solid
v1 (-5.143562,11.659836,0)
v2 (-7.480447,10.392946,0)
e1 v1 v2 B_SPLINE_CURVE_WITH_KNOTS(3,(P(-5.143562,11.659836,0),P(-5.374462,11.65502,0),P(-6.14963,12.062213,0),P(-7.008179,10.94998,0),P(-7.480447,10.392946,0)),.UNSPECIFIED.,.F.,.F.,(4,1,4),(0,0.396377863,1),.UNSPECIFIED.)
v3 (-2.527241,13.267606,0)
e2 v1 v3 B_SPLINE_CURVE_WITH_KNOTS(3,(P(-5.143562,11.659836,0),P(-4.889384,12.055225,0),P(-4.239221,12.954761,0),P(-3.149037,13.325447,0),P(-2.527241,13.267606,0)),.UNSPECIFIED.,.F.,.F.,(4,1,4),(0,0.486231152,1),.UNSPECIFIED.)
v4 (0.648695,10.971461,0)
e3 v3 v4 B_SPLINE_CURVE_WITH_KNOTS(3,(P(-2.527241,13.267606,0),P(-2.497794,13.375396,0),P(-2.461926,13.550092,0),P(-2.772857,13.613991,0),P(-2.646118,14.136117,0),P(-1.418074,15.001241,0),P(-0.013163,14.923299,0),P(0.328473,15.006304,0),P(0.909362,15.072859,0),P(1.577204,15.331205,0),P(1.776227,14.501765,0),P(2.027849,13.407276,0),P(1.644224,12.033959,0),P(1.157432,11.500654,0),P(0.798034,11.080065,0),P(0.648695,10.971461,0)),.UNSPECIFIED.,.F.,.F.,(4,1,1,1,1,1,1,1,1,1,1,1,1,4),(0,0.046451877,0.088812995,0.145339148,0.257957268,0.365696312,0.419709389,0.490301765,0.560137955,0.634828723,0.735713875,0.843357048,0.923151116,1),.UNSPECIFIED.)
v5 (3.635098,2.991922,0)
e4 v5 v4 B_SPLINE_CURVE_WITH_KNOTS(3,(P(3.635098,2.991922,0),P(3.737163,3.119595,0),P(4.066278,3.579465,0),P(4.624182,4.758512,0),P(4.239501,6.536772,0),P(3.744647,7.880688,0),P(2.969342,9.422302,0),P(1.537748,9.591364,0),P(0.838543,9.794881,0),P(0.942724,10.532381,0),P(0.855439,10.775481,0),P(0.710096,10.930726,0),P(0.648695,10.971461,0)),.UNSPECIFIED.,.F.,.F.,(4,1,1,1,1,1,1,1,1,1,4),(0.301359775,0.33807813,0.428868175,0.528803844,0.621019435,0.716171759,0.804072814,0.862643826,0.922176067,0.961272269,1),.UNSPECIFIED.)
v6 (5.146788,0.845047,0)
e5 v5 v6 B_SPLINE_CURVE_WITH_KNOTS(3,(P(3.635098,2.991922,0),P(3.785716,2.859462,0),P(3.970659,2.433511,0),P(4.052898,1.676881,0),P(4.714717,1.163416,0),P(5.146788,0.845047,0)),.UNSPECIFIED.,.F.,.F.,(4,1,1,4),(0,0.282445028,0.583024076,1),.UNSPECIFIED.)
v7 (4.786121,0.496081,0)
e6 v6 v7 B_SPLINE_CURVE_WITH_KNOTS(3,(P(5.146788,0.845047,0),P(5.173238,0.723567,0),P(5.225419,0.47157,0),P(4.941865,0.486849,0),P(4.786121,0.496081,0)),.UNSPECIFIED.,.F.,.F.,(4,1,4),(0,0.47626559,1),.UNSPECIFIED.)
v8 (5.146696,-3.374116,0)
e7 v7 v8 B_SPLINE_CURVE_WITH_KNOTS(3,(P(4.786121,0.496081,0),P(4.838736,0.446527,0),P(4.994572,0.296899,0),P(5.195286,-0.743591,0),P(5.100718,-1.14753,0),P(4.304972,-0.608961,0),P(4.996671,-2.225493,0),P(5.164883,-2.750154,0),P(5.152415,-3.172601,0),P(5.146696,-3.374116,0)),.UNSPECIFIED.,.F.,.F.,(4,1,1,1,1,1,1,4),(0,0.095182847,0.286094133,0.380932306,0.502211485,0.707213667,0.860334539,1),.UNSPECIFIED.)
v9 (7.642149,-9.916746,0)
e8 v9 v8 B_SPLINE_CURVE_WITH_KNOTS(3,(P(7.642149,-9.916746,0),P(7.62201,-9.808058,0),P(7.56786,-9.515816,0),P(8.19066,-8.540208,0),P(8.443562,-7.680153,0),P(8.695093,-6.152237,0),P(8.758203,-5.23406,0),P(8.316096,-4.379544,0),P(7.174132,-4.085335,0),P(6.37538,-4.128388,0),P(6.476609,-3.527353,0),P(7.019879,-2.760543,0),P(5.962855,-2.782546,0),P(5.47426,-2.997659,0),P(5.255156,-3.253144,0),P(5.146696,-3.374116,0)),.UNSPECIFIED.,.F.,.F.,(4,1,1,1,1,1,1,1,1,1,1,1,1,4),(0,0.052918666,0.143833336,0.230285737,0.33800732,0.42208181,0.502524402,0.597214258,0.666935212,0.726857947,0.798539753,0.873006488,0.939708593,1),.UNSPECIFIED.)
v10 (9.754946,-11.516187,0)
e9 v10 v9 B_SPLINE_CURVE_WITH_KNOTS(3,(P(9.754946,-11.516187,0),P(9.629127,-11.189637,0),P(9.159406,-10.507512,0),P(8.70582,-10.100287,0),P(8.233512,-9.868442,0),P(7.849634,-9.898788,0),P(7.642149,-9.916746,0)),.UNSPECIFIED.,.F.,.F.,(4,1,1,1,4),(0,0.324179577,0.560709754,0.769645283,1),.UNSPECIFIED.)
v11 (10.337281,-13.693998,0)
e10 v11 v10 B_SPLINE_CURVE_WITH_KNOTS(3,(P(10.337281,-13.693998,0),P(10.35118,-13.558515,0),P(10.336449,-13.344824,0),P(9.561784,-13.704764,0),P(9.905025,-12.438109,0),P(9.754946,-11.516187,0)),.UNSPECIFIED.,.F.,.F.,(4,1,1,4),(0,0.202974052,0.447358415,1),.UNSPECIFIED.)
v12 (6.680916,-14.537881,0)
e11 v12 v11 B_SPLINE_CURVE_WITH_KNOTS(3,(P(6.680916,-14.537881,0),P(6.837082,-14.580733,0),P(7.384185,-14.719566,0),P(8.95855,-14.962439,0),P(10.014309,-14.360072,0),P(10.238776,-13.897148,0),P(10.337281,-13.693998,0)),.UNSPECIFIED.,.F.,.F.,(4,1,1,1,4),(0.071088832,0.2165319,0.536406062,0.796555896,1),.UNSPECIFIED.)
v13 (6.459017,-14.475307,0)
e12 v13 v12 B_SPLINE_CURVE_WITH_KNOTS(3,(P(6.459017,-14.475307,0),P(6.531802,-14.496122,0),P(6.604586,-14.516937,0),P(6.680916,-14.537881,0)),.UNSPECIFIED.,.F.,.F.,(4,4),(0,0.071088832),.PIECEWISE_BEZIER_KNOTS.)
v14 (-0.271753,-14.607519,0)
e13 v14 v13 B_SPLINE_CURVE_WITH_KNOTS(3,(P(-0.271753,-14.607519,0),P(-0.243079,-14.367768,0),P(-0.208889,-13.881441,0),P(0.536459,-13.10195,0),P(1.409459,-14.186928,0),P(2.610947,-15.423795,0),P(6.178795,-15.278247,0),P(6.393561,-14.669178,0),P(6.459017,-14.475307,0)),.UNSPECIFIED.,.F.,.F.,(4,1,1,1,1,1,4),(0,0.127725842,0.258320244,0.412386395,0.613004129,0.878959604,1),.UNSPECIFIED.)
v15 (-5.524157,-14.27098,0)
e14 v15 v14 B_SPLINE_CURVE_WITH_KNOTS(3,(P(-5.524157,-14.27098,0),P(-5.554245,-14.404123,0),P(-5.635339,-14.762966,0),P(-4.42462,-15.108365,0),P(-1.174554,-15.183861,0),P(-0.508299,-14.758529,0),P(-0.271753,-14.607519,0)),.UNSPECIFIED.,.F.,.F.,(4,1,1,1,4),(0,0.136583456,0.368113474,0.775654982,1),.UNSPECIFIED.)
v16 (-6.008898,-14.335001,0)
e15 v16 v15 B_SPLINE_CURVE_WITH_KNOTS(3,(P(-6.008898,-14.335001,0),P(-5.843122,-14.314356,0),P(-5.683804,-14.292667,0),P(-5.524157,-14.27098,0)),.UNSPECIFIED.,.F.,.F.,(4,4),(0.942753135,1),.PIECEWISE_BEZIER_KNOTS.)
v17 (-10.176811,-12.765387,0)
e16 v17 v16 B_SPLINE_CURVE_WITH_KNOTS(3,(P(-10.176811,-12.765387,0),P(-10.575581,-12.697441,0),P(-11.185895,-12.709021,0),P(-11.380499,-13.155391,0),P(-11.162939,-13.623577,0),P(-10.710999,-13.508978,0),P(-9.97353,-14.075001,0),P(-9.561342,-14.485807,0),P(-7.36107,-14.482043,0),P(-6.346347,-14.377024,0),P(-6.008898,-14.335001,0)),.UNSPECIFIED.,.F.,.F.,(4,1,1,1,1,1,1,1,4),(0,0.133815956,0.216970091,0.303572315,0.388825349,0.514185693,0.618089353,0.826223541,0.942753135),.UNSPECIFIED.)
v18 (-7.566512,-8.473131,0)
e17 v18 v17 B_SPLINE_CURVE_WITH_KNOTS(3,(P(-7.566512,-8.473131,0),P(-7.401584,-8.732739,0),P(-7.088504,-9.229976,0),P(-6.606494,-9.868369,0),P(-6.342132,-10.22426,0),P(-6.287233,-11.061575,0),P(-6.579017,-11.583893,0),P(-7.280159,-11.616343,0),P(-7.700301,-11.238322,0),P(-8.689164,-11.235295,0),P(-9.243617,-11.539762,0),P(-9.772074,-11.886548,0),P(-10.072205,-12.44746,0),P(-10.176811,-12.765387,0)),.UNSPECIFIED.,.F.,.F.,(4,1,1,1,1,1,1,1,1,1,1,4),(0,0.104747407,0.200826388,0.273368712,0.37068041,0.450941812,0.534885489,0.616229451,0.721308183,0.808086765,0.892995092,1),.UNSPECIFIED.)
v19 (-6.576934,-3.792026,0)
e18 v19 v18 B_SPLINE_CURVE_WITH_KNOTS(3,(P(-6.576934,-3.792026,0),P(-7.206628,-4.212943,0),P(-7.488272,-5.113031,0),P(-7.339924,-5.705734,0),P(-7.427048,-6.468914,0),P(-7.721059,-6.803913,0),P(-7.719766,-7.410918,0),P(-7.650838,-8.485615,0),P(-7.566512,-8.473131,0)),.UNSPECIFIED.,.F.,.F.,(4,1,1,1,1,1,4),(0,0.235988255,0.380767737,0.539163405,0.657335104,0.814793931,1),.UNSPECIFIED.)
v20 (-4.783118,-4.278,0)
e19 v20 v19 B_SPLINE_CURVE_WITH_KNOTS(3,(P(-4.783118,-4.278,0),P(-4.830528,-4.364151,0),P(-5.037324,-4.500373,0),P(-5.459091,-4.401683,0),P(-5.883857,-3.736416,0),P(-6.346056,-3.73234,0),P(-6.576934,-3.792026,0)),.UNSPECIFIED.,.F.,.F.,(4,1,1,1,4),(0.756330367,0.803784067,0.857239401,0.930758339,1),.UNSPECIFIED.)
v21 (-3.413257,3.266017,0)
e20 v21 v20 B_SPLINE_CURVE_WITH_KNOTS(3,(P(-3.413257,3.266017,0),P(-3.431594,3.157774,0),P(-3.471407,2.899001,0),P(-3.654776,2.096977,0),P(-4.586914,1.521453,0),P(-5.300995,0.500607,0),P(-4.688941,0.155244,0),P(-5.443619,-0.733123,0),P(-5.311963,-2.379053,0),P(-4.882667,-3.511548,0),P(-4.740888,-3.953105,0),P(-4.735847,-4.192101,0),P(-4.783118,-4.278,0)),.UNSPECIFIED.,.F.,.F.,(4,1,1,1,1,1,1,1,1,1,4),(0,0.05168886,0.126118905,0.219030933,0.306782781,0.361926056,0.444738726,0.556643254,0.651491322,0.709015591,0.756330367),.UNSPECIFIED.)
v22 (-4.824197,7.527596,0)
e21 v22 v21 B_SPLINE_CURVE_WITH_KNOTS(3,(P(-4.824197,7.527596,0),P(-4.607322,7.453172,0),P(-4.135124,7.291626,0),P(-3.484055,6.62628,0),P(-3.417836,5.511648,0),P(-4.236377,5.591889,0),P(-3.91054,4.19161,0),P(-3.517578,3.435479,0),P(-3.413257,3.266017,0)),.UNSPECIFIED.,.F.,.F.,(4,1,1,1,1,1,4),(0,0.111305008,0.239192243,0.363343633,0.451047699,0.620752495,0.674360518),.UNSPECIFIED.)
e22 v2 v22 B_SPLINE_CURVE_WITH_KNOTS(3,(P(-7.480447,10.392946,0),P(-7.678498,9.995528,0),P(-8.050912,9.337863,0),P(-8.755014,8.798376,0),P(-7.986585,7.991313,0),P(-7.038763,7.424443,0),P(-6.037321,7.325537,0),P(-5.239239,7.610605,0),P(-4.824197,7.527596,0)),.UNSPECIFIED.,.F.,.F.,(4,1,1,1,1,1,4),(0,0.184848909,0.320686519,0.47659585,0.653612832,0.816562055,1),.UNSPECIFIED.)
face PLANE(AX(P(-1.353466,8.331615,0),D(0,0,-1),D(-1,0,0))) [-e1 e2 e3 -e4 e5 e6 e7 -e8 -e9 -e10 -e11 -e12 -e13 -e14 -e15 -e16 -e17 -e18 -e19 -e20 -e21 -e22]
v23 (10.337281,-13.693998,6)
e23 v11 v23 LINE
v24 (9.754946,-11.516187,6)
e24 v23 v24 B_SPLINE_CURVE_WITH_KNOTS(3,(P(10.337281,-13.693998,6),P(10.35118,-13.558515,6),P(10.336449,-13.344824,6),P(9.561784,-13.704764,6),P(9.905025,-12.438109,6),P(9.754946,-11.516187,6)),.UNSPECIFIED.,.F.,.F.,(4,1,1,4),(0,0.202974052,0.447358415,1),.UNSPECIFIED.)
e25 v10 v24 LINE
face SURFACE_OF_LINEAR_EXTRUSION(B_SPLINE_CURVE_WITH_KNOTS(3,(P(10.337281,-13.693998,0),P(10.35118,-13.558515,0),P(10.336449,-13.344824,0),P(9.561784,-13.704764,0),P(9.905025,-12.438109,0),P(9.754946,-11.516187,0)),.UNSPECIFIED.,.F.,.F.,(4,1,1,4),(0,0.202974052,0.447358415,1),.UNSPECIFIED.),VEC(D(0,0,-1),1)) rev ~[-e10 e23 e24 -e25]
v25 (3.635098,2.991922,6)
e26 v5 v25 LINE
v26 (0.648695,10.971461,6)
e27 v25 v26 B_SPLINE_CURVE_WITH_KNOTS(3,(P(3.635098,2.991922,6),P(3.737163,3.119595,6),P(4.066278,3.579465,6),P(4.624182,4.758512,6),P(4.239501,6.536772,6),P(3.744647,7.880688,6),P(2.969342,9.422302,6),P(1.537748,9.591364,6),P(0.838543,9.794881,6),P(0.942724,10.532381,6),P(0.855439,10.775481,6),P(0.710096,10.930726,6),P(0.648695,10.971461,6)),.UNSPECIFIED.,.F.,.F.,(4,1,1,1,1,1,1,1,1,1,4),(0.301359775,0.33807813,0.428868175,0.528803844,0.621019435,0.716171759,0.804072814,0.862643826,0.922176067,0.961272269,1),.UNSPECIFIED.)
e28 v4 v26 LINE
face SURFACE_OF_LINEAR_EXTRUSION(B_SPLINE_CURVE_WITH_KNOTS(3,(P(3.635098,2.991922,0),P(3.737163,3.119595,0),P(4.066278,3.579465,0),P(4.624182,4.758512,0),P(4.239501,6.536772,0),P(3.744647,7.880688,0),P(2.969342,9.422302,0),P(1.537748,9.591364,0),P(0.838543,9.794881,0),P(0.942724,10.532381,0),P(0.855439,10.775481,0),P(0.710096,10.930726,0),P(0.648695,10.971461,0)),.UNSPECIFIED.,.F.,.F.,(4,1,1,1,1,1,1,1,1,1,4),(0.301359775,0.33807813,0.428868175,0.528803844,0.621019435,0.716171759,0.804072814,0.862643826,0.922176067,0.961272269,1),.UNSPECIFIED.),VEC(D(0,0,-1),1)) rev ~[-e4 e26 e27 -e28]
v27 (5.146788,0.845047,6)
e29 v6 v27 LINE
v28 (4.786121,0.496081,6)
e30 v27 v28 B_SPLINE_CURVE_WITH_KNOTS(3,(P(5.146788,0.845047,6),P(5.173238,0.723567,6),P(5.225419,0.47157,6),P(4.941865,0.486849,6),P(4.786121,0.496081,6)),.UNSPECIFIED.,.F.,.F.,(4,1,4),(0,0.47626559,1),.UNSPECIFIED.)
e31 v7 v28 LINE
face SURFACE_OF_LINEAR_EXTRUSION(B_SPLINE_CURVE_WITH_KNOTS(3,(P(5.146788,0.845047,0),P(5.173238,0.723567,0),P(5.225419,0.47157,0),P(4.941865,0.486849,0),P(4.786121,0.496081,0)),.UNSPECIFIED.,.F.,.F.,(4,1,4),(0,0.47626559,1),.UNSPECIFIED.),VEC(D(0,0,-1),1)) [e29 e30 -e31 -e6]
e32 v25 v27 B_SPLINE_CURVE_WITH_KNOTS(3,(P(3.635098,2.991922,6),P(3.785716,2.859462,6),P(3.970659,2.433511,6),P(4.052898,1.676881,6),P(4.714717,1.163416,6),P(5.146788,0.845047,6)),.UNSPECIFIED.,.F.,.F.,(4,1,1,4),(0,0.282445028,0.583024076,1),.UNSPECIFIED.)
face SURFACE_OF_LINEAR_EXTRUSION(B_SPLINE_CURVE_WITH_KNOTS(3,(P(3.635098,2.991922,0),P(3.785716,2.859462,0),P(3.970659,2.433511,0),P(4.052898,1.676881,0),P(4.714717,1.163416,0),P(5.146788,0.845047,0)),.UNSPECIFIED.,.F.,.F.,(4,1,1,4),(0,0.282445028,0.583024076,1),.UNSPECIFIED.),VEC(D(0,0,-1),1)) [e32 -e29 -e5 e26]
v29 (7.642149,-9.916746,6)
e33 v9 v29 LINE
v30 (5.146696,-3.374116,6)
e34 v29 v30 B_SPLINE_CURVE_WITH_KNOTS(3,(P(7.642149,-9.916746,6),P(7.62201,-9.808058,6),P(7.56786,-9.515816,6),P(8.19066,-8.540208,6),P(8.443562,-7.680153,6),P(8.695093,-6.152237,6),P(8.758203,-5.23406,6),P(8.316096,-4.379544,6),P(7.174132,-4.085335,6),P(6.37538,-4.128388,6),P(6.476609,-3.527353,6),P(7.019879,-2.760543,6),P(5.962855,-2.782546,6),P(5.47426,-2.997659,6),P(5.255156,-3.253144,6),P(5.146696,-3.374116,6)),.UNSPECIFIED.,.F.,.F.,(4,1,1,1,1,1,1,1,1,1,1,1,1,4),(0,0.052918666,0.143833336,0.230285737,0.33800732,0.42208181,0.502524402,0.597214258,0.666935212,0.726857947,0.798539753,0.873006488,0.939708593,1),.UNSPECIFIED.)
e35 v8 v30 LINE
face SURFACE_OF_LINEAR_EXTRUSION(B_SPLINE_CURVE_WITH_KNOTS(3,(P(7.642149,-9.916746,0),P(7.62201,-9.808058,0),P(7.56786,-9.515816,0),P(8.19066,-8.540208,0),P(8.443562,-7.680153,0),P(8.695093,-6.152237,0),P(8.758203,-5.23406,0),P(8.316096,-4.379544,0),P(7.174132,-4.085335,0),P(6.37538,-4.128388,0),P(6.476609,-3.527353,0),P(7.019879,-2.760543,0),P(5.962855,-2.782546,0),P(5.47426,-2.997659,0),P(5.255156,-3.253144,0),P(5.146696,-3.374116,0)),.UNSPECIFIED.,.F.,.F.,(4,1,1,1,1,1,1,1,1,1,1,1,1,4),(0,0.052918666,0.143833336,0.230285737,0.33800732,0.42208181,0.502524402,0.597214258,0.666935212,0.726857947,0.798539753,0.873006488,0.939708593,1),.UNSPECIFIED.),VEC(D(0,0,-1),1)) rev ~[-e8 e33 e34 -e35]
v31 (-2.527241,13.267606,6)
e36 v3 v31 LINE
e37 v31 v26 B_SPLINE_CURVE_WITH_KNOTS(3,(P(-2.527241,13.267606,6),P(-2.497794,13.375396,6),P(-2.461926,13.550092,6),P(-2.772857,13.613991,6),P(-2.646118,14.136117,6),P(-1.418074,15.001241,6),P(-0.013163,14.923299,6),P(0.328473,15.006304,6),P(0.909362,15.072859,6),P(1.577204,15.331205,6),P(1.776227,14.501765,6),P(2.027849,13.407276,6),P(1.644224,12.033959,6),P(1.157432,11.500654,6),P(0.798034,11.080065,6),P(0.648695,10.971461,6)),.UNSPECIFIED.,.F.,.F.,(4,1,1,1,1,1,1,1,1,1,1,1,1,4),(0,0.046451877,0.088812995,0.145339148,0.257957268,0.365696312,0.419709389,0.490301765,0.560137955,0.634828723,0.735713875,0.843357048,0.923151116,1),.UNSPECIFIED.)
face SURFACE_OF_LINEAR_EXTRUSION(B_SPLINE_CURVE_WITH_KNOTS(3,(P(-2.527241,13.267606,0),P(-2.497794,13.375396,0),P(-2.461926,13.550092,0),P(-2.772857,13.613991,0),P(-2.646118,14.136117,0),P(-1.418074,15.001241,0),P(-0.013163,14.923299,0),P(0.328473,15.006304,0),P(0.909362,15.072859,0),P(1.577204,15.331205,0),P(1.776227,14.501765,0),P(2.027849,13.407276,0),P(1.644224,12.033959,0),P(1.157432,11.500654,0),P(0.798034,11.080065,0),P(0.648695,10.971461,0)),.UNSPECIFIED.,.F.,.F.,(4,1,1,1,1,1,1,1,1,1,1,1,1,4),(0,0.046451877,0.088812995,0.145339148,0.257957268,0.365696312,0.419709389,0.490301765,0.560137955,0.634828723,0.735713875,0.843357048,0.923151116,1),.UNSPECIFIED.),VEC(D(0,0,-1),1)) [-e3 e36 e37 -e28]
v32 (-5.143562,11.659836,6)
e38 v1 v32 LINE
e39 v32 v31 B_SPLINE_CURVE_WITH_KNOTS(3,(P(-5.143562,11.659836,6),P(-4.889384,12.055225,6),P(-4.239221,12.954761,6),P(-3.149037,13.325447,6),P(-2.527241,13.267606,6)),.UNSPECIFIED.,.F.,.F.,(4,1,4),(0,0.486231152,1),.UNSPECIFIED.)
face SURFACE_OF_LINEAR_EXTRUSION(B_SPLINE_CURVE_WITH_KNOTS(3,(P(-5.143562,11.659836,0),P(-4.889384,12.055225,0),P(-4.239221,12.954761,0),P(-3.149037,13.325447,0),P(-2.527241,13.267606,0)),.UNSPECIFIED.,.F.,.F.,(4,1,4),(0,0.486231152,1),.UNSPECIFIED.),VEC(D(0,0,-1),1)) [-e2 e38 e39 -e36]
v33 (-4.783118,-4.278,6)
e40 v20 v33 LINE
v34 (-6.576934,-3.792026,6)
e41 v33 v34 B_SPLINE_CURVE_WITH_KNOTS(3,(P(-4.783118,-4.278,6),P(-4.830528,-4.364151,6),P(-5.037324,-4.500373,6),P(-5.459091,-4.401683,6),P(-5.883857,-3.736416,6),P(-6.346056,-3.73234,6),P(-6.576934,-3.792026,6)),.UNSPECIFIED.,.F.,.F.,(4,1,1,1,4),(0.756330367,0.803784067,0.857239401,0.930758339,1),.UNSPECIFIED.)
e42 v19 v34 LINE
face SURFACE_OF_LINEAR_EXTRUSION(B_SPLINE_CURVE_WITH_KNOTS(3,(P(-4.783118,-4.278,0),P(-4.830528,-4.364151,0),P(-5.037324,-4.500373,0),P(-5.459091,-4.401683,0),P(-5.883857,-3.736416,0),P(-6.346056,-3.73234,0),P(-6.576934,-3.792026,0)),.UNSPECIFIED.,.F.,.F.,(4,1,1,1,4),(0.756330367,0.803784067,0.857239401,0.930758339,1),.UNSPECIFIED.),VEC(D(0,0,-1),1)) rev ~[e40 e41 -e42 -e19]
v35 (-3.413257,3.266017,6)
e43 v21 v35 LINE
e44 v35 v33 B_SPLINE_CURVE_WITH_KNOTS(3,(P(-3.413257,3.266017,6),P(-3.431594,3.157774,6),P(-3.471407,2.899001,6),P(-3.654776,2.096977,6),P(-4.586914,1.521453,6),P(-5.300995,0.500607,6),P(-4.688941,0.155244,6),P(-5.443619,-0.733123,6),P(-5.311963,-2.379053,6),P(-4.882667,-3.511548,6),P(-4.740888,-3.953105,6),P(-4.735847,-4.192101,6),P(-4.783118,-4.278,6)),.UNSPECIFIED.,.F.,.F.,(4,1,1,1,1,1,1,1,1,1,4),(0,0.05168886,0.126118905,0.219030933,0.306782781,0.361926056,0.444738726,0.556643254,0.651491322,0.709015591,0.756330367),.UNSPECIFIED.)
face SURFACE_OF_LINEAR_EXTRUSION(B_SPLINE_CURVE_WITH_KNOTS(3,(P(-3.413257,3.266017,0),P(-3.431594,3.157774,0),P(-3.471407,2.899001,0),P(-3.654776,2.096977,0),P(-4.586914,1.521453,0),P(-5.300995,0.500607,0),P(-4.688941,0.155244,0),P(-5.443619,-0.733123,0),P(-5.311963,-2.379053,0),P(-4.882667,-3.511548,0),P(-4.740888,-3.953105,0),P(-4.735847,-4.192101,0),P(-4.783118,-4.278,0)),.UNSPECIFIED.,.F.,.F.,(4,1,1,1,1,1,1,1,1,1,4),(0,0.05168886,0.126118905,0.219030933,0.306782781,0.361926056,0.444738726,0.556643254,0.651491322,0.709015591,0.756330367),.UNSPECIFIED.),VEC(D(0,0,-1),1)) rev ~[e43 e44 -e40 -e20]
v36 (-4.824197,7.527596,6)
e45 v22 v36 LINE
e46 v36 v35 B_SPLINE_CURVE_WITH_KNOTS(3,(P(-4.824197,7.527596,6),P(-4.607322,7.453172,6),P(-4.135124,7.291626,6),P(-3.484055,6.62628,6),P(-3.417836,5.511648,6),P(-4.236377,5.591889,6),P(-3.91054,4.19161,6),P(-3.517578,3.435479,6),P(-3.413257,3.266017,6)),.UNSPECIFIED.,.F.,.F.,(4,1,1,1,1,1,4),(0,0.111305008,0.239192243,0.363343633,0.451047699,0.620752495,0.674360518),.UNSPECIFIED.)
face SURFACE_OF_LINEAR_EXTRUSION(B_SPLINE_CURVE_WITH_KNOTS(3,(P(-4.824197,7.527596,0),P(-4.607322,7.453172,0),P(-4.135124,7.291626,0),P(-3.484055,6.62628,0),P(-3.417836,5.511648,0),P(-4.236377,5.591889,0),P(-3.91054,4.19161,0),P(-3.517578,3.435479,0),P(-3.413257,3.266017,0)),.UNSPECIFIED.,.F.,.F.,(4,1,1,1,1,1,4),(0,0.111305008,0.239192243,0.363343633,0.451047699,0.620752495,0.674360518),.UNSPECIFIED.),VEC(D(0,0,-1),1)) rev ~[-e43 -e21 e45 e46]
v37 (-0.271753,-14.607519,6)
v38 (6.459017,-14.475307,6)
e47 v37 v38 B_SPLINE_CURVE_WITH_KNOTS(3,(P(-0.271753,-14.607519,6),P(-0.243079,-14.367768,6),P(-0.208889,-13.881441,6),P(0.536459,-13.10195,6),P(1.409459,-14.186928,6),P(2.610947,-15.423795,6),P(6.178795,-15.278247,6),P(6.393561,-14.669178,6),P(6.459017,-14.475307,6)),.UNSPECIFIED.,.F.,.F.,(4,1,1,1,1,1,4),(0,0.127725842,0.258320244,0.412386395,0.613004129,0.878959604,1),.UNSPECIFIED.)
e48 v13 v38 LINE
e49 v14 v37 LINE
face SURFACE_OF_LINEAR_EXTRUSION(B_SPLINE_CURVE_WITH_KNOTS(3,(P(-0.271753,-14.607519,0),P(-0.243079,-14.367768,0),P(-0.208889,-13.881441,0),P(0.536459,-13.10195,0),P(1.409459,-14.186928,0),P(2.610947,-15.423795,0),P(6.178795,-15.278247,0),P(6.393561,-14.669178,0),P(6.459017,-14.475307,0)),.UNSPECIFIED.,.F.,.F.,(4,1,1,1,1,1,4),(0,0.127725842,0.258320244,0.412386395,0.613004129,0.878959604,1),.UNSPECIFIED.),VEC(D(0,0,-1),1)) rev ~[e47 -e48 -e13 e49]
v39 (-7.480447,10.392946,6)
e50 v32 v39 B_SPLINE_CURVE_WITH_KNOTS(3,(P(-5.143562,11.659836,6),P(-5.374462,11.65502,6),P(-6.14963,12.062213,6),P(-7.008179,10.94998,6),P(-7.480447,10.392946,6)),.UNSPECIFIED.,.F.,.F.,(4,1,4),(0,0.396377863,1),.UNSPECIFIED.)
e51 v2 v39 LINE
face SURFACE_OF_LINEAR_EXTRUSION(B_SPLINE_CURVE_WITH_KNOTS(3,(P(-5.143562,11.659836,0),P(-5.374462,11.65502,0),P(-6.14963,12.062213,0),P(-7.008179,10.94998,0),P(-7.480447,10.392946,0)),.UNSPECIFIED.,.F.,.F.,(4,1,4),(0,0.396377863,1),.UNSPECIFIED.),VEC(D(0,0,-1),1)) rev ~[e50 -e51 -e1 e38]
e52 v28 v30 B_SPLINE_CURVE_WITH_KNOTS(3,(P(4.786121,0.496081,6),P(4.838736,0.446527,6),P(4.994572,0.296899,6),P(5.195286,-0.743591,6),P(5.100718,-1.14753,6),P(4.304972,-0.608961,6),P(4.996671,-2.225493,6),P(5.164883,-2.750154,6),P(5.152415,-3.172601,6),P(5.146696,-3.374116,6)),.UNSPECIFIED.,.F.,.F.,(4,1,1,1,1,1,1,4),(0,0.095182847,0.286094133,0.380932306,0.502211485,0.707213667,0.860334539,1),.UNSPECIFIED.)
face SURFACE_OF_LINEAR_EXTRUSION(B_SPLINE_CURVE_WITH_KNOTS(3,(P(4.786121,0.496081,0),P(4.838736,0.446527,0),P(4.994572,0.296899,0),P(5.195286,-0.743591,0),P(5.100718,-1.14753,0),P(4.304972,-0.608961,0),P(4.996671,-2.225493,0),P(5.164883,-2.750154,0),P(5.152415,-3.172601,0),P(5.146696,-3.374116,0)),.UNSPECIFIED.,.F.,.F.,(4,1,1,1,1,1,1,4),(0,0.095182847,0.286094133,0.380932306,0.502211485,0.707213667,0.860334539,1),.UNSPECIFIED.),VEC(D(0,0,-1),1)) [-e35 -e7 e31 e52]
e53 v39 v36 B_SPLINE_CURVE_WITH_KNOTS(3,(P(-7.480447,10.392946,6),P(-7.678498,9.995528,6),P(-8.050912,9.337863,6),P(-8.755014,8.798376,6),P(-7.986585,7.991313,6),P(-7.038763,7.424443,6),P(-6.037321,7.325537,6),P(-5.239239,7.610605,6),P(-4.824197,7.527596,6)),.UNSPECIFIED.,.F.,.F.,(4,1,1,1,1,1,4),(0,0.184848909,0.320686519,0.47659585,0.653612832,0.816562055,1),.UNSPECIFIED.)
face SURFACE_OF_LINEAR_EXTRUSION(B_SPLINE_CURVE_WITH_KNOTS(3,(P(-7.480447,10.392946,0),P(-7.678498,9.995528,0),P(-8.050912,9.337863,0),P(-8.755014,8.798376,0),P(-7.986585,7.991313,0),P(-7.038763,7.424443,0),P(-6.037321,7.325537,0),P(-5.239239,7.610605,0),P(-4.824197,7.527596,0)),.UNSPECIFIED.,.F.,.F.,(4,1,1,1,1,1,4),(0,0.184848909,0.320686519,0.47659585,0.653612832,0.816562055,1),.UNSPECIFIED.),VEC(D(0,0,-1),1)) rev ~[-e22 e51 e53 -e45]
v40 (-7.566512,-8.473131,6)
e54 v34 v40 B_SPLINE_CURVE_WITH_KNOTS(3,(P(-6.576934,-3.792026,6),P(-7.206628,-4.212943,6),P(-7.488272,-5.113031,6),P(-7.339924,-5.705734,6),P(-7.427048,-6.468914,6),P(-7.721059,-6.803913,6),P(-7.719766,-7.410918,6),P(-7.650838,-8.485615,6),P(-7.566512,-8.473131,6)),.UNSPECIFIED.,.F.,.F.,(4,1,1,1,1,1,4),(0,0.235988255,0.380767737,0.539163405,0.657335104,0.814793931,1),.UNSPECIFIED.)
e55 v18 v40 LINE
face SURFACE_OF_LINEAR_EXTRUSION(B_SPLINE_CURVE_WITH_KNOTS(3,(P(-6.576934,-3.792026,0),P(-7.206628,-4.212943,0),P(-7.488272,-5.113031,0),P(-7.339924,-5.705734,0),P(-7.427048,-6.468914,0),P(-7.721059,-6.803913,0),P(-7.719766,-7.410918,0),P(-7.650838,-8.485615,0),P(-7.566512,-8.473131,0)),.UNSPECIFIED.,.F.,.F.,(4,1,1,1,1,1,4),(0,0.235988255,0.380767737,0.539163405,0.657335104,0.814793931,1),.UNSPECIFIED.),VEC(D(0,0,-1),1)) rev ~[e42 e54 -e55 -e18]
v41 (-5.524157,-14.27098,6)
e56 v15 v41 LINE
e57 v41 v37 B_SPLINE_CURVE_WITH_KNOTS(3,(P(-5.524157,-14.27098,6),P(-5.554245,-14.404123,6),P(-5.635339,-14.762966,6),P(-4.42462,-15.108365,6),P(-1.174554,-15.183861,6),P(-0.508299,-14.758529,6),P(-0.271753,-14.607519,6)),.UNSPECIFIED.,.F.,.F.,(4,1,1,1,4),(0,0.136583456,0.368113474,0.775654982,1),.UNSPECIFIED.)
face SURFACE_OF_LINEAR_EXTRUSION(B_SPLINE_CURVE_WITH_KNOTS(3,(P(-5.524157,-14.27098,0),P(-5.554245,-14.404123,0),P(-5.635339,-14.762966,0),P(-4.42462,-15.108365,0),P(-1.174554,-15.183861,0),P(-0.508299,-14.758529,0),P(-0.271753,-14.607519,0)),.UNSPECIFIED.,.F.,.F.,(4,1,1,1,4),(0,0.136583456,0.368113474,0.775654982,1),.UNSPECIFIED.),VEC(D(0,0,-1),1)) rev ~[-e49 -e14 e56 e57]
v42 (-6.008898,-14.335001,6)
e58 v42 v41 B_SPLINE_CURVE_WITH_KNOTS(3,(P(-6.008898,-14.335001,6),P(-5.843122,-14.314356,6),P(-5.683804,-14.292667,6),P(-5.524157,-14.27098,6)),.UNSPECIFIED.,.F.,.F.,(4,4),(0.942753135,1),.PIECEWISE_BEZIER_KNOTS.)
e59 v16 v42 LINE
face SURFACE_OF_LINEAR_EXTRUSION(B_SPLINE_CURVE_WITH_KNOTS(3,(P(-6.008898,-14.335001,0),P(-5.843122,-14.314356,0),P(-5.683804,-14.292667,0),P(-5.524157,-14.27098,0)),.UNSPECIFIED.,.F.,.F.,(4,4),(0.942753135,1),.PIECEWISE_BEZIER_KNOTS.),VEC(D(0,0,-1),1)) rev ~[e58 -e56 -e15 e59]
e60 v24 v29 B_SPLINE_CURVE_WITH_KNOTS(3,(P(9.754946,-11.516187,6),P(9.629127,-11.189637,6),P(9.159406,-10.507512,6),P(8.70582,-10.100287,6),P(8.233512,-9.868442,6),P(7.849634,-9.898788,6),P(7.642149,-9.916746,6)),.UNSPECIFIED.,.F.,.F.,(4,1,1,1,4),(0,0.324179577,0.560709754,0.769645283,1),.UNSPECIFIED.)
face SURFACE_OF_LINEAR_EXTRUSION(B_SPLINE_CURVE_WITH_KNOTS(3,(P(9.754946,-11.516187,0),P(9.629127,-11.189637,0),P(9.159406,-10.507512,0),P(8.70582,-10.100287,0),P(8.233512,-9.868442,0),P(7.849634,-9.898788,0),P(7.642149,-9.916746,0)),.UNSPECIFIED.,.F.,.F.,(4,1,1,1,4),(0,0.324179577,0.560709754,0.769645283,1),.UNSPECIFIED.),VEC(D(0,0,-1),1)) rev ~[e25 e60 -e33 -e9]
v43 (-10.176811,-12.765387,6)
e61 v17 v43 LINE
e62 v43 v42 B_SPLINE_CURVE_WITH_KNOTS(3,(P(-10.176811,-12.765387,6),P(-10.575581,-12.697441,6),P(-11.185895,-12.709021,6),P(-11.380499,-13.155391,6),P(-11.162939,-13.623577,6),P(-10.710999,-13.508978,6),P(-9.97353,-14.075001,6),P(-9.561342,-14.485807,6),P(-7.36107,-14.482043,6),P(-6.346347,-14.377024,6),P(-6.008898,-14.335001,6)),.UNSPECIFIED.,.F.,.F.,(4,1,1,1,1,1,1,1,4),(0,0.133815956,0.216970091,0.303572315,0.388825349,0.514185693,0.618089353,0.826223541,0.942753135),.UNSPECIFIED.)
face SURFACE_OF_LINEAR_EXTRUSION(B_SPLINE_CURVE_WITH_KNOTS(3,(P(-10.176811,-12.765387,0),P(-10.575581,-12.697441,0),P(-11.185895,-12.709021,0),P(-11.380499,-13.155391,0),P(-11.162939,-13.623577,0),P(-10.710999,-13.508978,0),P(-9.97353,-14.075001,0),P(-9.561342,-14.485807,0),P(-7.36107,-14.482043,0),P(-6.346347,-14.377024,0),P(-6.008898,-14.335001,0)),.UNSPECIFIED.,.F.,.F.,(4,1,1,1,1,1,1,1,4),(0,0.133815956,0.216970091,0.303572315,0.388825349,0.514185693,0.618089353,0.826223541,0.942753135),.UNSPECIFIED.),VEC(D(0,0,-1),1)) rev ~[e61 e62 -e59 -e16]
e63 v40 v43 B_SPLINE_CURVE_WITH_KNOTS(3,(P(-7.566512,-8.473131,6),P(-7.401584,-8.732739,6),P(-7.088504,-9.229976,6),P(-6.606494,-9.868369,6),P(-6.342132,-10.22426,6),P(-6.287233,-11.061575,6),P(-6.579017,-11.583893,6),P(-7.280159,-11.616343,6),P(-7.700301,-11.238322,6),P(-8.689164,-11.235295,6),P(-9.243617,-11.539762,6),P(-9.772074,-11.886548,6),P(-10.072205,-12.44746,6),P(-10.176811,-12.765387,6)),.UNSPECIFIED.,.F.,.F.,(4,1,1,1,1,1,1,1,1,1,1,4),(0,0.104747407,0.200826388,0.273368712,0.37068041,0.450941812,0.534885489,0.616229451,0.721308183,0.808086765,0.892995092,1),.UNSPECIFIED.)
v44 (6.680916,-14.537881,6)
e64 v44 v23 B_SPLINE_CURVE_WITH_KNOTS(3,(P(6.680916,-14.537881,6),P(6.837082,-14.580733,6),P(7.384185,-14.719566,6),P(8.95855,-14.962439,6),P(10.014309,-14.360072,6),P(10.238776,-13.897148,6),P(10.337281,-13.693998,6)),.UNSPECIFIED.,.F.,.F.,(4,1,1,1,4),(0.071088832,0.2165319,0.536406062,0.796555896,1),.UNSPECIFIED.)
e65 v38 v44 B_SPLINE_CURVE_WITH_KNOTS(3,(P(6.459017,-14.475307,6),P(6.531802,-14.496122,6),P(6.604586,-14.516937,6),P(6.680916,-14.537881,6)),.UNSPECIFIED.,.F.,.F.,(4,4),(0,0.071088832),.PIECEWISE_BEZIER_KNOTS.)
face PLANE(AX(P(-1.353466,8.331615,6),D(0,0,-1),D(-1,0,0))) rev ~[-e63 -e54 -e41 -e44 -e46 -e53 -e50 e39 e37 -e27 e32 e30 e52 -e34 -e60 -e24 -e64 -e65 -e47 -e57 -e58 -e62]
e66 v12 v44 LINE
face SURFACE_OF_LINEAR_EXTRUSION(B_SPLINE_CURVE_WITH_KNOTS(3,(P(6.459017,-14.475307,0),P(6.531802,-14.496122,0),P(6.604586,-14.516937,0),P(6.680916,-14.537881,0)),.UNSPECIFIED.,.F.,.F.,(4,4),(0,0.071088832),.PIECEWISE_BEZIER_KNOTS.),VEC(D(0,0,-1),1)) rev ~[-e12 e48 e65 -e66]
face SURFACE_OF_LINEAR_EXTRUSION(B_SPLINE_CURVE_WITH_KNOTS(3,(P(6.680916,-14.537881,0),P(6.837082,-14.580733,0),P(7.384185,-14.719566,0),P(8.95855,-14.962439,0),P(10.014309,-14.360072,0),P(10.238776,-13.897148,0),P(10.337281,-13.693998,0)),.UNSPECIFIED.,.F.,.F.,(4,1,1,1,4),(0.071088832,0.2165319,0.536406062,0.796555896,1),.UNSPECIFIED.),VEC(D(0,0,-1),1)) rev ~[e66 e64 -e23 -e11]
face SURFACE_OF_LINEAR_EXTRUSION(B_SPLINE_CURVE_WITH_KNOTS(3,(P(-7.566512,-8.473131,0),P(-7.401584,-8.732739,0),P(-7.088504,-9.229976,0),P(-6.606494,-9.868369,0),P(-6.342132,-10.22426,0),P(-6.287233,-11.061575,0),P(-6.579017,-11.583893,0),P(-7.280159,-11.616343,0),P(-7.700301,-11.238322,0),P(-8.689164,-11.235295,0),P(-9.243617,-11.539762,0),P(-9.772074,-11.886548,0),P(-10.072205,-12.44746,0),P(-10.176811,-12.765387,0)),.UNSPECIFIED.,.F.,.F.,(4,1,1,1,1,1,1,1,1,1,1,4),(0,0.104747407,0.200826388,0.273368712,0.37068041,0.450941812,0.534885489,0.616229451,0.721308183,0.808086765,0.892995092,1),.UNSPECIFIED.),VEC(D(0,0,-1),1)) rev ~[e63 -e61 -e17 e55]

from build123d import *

# Parameters (mm, degrees)
F1_DEPTH = 6


with BuildPart() as f1:
    # F0 (on Top) → F1 (new body)
    with BuildSketch(Plane.XY):
        with BuildLine():
            add(Edge.make_bspline(
                [(-5.1435623318, 11.6598363966), (-4.889383909, 12.055224952), (-4.2392207464, 12.9547613294), (-3.1490368622, 13.3254473), (-2.5272412681, 13.2676063314)],
                knots=[0, 0, 0, 0, 0.4862311521, 1, 1, 1, 1], degree=3))
            add(Edge.make_bspline(
                [(-5.1435623318, 11.6598363966), (-5.3744623819, 11.6550202138), (-6.1496301682, 12.0622129794), (-7.0081791715, 10.9499799204), (-7.4804467149, 10.3929461911)],
                knots=[0, 0, 0, 0, 0.3963778635, 1, 1, 1, 1], degree=3))
            add(Edge.make_bspline(
                [(-7.4804467149, 10.3929461911), (-7.6784975617, 9.9955282471), (-8.0509124621, 9.3378631865), (-8.7550136313, 8.7983759797), (-7.986585448, 7.9913132449), (-7.0387627173, 7.4244428077), (-6.0373205228, 7.325536842), (-5.23923945, 7.6106048254), (-4.8241969198, 7.5275962275)],
                knots=[0, 0, 0, 0, 0.1848489095, 0.3206865187, 0.4765958496, 0.6536128324, 0.8165620551, 1, 1, 1, 1], degree=3))
            add(Edge.make_bspline(
                [(-4.8241969198, 7.5275962275), (-4.6073215054, 7.4531720941), (-4.1351244365, 7.291625806), (-3.4840545767, 6.6262803612), (-3.4178361352, 5.5116478972), (-4.2363770807, 5.5918885944), (-3.9105399004, 4.1916096848), (-3.5175783054, 3.435479133), (-3.4132565701, 3.2660174825)],
                knots=[0, 0, 0, 0, 0.1113050081, 0.2391922434, 0.3633436331, 0.4510476989, 0.6207524948, 0.674360518, 0.674360518, 0.674360518, 0.674360518], degree=3))
            add(Edge.make_bspline(
                [(-3.4132565701, 3.2660174825), (-3.1426242174, 2.8263985956), (-2.3515290066, 1.9869557521), (-1.1129175859, 1.3709573541), (-0.5961204297, 1.2888366158)],
                knots=[0.674360518, 0.674360518, 0.674360518, 0.674360518, 0.8134309177, 1, 1, 1, 1], degree=3))
            add(Edge.make_bspline(
                [(-0.5961204297, 1.2888366158), (-0.2474562779, 1.3228104575), (-0.1243316829, 1.4121378525), (2.017163, 1.3529696525), (3.0995873444, 2.3818082831), (3.5196765171, 2.8475420814), (3.635097851, 2.9919221244)],
                knots=[0, 0, 0, 0, 0.0584720007, 0.1615263848, 0.2598364591, 0.3013597751, 0.3013597751, 0.3013597751, 0.3013597751], degree=3))
            add(Edge.make_bspline(
                [(3.635097851, 2.9919221244), (3.7371629533, 3.1195949154), (4.0662775773, 3.5794650328), (4.6241821591, 4.7585115051), (4.2395014226, 6.536771726), (3.7446471113, 7.8806876088), (2.9693415838, 9.422301766), (1.5377482792, 9.5913638555), (0.8385427887, 9.7948813978), (0.9427243763, 10.5323806704), (0.8554394486, 10.7754806944), (0.7100959107, 10.9307258579), (0.6486951505, 10.9714605978)],
                knots=[0.3013597751, 0.3013597751, 0.3013597751, 0.3013597751, 0.3380781299, 0.428868175, 0.5288038445, 0.6210194346, 0.7161717589, 0.8040728137, 0.862643826, 0.9221760672, 0.9612722692, 1, 1, 1, 1], degree=3))
            add(Edge.make_bspline(
                [(-2.5272412681, 13.2676063314), (-2.4977936967, 13.3753956761), (-2.4619256958, 13.550091653), (-2.7728565878, 13.6139907301), (-2.6461178617, 14.1361166501), (-1.4180744712, 15.0012414776), (-0.0131634847, 14.9232987622), (0.3284728241, 15.0063040062), (0.9093615893, 15.0728586588), (1.5772035067, 15.3312045716), (1.776227312, 14.5017652838), (2.0278486833, 13.4072763616), (1.6442240567, 12.0339593346), (1.1574315188, 11.500653889), (0.798033788, 11.0800645827), (0.6486951505, 10.9714605978)],
                knots=[0, 0, 0, 0, 0.0464518771, 0.0888129947, 0.1453391479, 0.257957268, 0.3656963123, 0.4197093893, 0.4903017646, 0.5601379547, 0.6348287235, 0.7357138746, 0.843357048, 0.9231511157, 1, 1, 1, 1], degree=3))
        make_face()
        with BuildLine():
            add(Edge.make_bspline(
                [(3.635097851, 2.9919221244), (3.7857164883, 2.8594618643), (3.9706594229, 2.4335113179), (4.0528976339, 1.6768810024), (4.7147166915, 1.1634156108), (5.1467875019, 0.8450473542)],
                knots=[0, 0, 0, 0, 0.2824450285, 0.5830240761, 1, 1, 1, 1], degree=3))
            add(Edge.make_bspline(
                [(-0.5961204297, 1.2888366158), (-0.2474562779, 1.3228104575), (-0.1243316829, 1.4121378525), (2.017163, 1.3529696525), (3.0995873444, 2.3818082831), (3.5196765171, 2.8475420814), (3.635097851, 2.9919221244)],
                knots=[0, 0, 0, 0, 0.0584720007, 0.1615263848, 0.2598364591, 0.3013597751, 0.3013597751, 0.3013597751, 0.3013597751], degree=3))
            add(Edge.make_bspline(
                [(-3.4132565701, 3.2660174825), (-3.1426242174, 2.8263985956), (-2.3515290066, 1.9869557521), (-1.1129175859, 1.3709573541), (-0.5961204297, 1.2888366158)],
                knots=[0.674360518, 0.674360518, 0.674360518, 0.674360518, 0.8134309177, 1, 1, 1, 1], degree=3))
            add(Edge.make_bspline(
                [(-3.4132565701, 3.2660174825), (-3.4315941748, 3.1577744216), (-3.4714074075, 2.8990010473), (-3.6547756009, 2.096977181), (-4.5869137108, 1.5214530813), (-5.3009953367, 0.5006071287), (-4.6889414068, 0.1552437953), (-5.4436193715, -0.7331233402), (-5.3119631642, -2.3790533398), (-4.8826672061, -3.5115479457), (-4.7408875979, -3.9531045414), (-4.7358466965, -4.1921009037), (-4.7831181437, -4.2779999785)],
                knots=[0, 0, 0, 0, 0.0516888601, 0.126118905, 0.2190309329, 0.3067827806, 0.3619260565, 0.4447387258, 0.5566432539, 0.6514913224, 0.7090155907, 0.7563303667, 0.7563303667, 0.7563303667, 0.7563303667], degree=3))
            add(Edge.make_bspline(
                [(-4.7831181437, -4.2779999785), (-4.6591449526, -4.3661702564), (-4.3312155018, -4.599395122), (-5.1573761179, -5.6687797155), (-4.7002039893, -6.5810204452), (-4.6933534273, -7.6797769396), (-5.3822272202, -10.0575387351), (-5.4831590367, -10.6975372555), (-4.9813160075, -10.7337633426), (-5.3341832802, -11.5710822638), (-6.1386609112, -12.4109904024), (-6.0555680185, -13.644695521), (-6.0088984103, -14.3350005514)],
                knots=[0, 0, 0, 0, 0.0653350895, 0.172822042, 0.2699766727, 0.3787036092, 0.5404048914, 0.6123210063, 0.6663067951, 0.7505993379, 0.8604305898, 0.9998780309, 0.9998780309, 0.9998780309, 0.9998780309], degree=3))
            add(Edge.make_bspline(
                [(-6.0088984092, -14.3350005514), (-5.8431219906, -14.3143561041), (-5.6838038883, -14.2926668236), (-5.5241566151, -14.2709799111)],
                knots=[0.9427531347, 0.9427531347, 0.9427531347, 0.9427531347, 1, 1, 1, 1], degree=3))
            add(Edge.make_bspline(
                [(-5.5241566151, -14.2709799111), (-5.5542454141, -14.4041233954), (-5.6353393667, -14.7629656144), (-4.4246198371, -15.1083654166), (-1.174553618, -15.1838605837), (-0.5082994444, -14.758528745), (-0.2717525349, -14.6075189114)],
                knots=[0, 0, 0, 0, 0.1365834564, 0.3681134742, 0.7756549816, 1, 1, 1, 1], degree=3))
            add(Edge.make_bspline(
                [(-0.2717525349, -14.6075189114), (-0.2430792829, -14.3677678437), (-0.2088888224, -13.8814411291), (0.5364592868, -13.1019501031), (1.409458804, -14.1869282165), (2.6109474523, -15.4237947074), (6.1787946723, -15.2782472671), (6.3935613739, -14.6691779495), (6.4590172842, -14.4753074273)],
                knots=[0, 0, 0, 0, 0.1277258416, 0.2583202442, 0.4123863949, 0.6130041291, 0.8789596043, 1, 1, 1, 1], degree=3))
            add(Edge.make_bspline(
                [(6.4590172842, -14.4753074273), (6.5318015744, -14.4961221571), (6.6045858646, -14.5169368868), (6.6809157002, -14.5378814723)],
                knots=[0, 0, 0, 0, 0.0710888317, 0.0710888317, 0.0710888317, 0.0710888317], degree=3))
            add(Edge.make_bspline(
                [(5.1466962323, -3.3741160296), (5.0948305096, -3.4807787207), (4.9597065908, -3.7586632284), (4.551664356, -4.7156170548), (4.4110048301, -6.3752771126), (5.0623299804, -7.6267776356), (6.1563712178, -8.6674910333), (5.9954507681, -9.8448373201), (6.1584629067, -11.1018289599), (6.8195755926, -12.0285921013), (6.8859991285, -13.025841518), (6.3818015409, -13.1551248356), (6.902919704, -13.6299889818), (6.7627697795, -14.2034830311), (6.6809156899, -14.53788147)],
                knots=[0, 0, 0, 0, 0.0539859253, 0.1406476072, 0.2504498413, 0.3521083737, 0.4535209502, 0.5437992881, 0.639142848, 0.7322996513, 0.811318147, 0.857982685, 0.9171777205, 0.9999318419, 0.9999318419, 0.9999318419, 0.9999318419], degree=3))
            add(Edge.make_bspline(
                [(4.7861207277, 0.4960809601), (4.8387358491, 0.4465267389), (4.9945720142, 0.2968988275), (5.1952862465, -0.7435906904), (5.1007181467, -1.1475297715), (4.3049719075, -0.608961485), (4.9966711874, -2.2254934081), (5.1648832815, -2.7501538191), (5.1524147391, -3.1726009895), (5.1466962323, -3.3741160296)],
                knots=[0, 0, 0, 0, 0.0951828466, 0.2860941333, 0.3809323061, 0.5022114851, 0.707213667, 0.8603345386, 1, 1, 1, 1], degree=3))
            add(Edge.make_bspline(
                [(5.1467875019, 0.8450473542), (5.1732379253, 0.7235665831), (5.2254188705, 0.4715701646), (4.9418648339, 0.4868491525), (4.7861207277, 0.4960809601)],
                knots=[0, 0, 0, 0, 0.4762655899, 1, 1, 1, 1], degree=3))
        make_face()
        with BuildLine():
            add(Edge.make_bspline(
                [(-0.3466503404, -5.0943419337), (-0.4971497327, -5.0901113902), (-0.8923720828, -6.4258753473), (-1.0559167524, -7.5666694037), (-0.9968671618, -8.9476416833), (-1.0804542392, -10.1918236852), (-1.1007302697, -13.1412850504), (0.143449155, -10.7919416266), (1.4105074318, -11.4976732662), (1.4943958904, -12.7366808606), (1.8837333085, -12.4212989372), (1.9369501004, -11.6527214446), (1.8633234272, -9.8045683476), (2.1029087152, -8.823406592), (1.6570727925, -7.3422586396), (1.3541308128, -6.1881420921), (0.9021823742, -5.3238534059), (0.5885719962, -5.0864904522), (0.4941124159, -5.9480246063), (-0.083928885, -5.7105274636), (-0.2390408983, -5.0973668392), (-0.3466503404, -5.0943419337)],
                knots=[0, 0, 0, 0, 0.0590387727, 0.1207623943, 0.1796466208, 0.2452432404, 0.316446961, 0.3801593075, 0.435125363, 0.4873182569, 0.5123992575, 0.5585155107, 0.6301706307, 0.6840915254, 0.747874681, 0.8075747456, 0.8591062893, 0.8825982761, 0.9236578897, 0.9577863452, 1, 1, 1, 1], degree=3))
        make_face(mode=Mode.SUBTRACT)
        with BuildLine():
            add(Edge.make_bspline(
                [(-4.7831181437, -4.2779999785), (-4.6591449526, -4.3661702564), (-4.3312155018, -4.599395122), (-5.1573761179, -5.6687797155), (-4.7002039893, -6.5810204452), (-4.6933534273, -7.6797769396), (-5.3822272202, -10.0575387351), (-5.4831590367, -10.6975372555), (-4.9813160075, -10.7337633426), (-5.3341832802, -11.5710822638), (-6.1386609112, -12.4109904024), (-6.0555680185, -13.644695521), (-6.0088984103, -14.3350005514)],
                knots=[0, 0, 0, 0, 0.0653350895, 0.172822042, 0.2699766727, 0.3787036092, 0.5404048914, 0.6123210063, 0.6663067951, 0.7505993379, 0.8604305898, 0.9998780309, 0.9998780309, 0.9998780309, 0.9998780309], degree=3))
            add(Edge.make_bspline(
                [(-4.7831181437, -4.2779999785), (-4.8305283879, -4.3641512675), (-5.0373238378, -4.5003732865), (-5.4590912079, -4.4016827594), (-5.8838567769, -3.7364157085), (-6.3460562669, -3.7323398744), (-6.5769343637, -3.7920258474)],
                knots=[0.7563303667, 0.7563303667, 0.7563303667, 0.7563303667, 0.803784067, 0.8572394006, 0.9307583391, 1, 1, 1, 1], degree=3))
            add(Edge.make_bspline(
                [(-6.5769343637, -3.7920258474), (-7.2066283138, -4.2129431053), (-7.4882715127, -5.1130309824), (-7.3399242797, -5.7057335675), (-7.4270481681, -6.4689140338), (-7.721059356, -6.8039130725), (-7.7197655036, -7.4109175232), (-7.6508382338, -8.485614838), (-7.5665120967, -8.4731308743)],
                knots=[0, 0, 0, 0, 0.2359882547, 0.3807677367, 0.5391634052, 0.6573351041, 0.814793931, 1, 1, 1, 1], degree=3))
            add(Edge.make_bspline(
                [(-7.5665120967, -8.4731308743), (-7.4015841558, -8.7327389017), (-7.0885037186, -9.2299757298), (-6.6064938589, -9.868368568), (-6.3421315195, -10.2242601681), (-6.2872333554, -11.061574528), (-6.5790174055, -11.5838928928), (-7.2801592808, -11.6163429442), (-7.7003005197, -11.2383220108), (-8.6891637424, -11.2352951524), (-9.2436169439, -11.5397624201), (-9.772074371, -11.8865477241), (-10.0722052088, -12.4474600669), (-10.1768113673, -12.7653870732)],
                knots=[0, 0, 0, 0, 0.1047474067, 0.2008263875, 0.2733687119, 0.3706804097, 0.4509418125, 0.5348854889, 0.6162294506, 0.7213081833, 0.808086765, 0.8929950918, 1, 1, 1, 1], degree=3))
            add(Edge.make_bspline(
                [(-10.1768113673, -12.7653870732), (-10.5755810123, -12.6974406552), (-11.1858945803, -12.7090205407), (-11.3804990777, -13.1553910117), (-11.1629388404, -13.6235770695), (-10.7109991859, -13.508978331), (-9.9735301591, -14.0750007516), (-9.5613423708, -14.4858072845), (-7.3610700524, -14.4820425017), (-6.3463467316, -14.3770236217), (-6.0088984092, -14.3350005514)],
                knots=[0, 0, 0, 0, 0.1338159557, 0.2169700908, 0.3035723154, 0.388825349, 0.5141856927, 0.6180893531, 0.8262235412, 0.9427531347, 0.9427531347, 0.9427531347, 0.9427531347], degree=3))
        make_face()
        with BuildLine():
            add(Edge.make_bspline(
                [(-0.3466503404, -5.0943419337), (-0.4971497327, -5.0901113902), (-0.8923720828, -6.4258753473), (-1.0559167524, -7.5666694037), (-0.9968671618, -8.9476416833), (-1.0804542392, -10.1918236852), (-1.1007302697, -13.1412850504), (0.143449155, -10.7919416266), (1.4105074318, -11.4976732662), (1.4943958904, -12.7366808606), (1.8837333085, -12.4212989372), (1.9369501004, -11.6527214446), (1.8633234272, -9.8045683476), (2.1029087152, -8.823406592), (1.6570727925, -7.3422586396), (1.3541308128, -6.1881420921), (0.9021823742, -5.3238534059), (0.5885719962, -5.0864904522), (0.4941124159, -5.9480246063), (-0.083928885, -5.7105274636), (-0.2390408983, -5.0973668392), (-0.3466503404, -5.0943419337)],
                knots=[0, 0, 0, 0, 0.0590387727, 0.1207623943, 0.1796466208, 0.2452432404, 0.316446961, 0.3801593075, 0.435125363, 0.4873182569, 0.5123992575, 0.5585155107, 0.6301706307, 0.6840915254, 0.747874681, 0.8075747456, 0.8591062893, 0.8825982761, 0.9236578897, 0.9577863452, 1, 1, 1, 1], degree=3))
        make_face()
        with BuildLine():
            add(Edge.make_bspline(
                [(7.6421494596, -9.9167460576), (7.6220100194, -9.8080579129), (7.5678597792, -9.5158159716), (8.1906602964, -8.5402075197), (8.4435618428, -7.6801534786), (8.695092685, -6.1522367034), (8.7582027719, -5.2340603214), (8.3160964166, -4.3795436006), (7.1741319267, -4.0853354277), (6.375380425, -4.128388236), (6.4766093819, -3.5273529734), (7.0198787723, -2.7605426394), (5.9628545564, -2.7825460162), (5.4742598695, -2.997658626), (5.2551561244, -3.253143783), (5.1466962323, -3.3741160296)],
                knots=[0, 0, 0, 0, 0.0529186655, 0.1438333362, 0.2302857374, 0.3380073202, 0.4220818104, 0.5025244018, 0.597214258, 0.6669352116, 0.7268579471, 0.7985397526, 0.8730064885, 0.9397085926, 1, 1, 1, 1], degree=3))
            add(Edge.make_bspline(
                [(5.1466962323, -3.3741160296), (5.0948305096, -3.4807787207), (4.9597065908, -3.7586632284), (4.551664356, -4.7156170548), (4.4110048301, -6.3752771126), (5.0623299804, -7.6267776356), (6.1563712178, -8.6674910333), (5.9954507681, -9.8448373201), (6.1584629067, -11.1018289599), (6.8195755926, -12.0285921013), (6.8859991285, -13.025841518), (6.3818015409, -13.1551248356), (6.902919704, -13.6299889818), (6.7627697795, -14.2034830311), (6.6809156899, -14.53788147)],
                knots=[0, 0, 0, 0, 0.0539859253, 0.1406476072, 0.2504498413, 0.3521083737, 0.4535209502, 0.5437992881, 0.639142848, 0.7322996513, 0.811318147, 0.857982685, 0.9171777205, 0.9999318419, 0.9999318419, 0.9999318419, 0.9999318419], degree=3))
            add(Edge.make_bspline(
                [(6.6809157002, -14.5378814723), (6.8370815175, -14.5807327149), (7.3841854126, -14.7195660596), (8.9585503669, -14.9624392239), (10.0143088412, -14.3600720342), (10.2387757299, -13.8971478325), (10.3372810408, -13.6939976364)],
                knots=[0.0710888317, 0.0710888317, 0.0710888317, 0.0710888317, 0.2165319, 0.5364060615, 0.7965558959, 1, 1, 1, 1], degree=3))
            add(Edge.make_bspline(
                [(10.3372810408, -13.6939976364), (10.351180167, -13.5585150587), (10.3364489373, -13.344823599), (9.561783511, -13.7047636218), (9.905025363, -12.4381091446), (9.754945524, -11.51618734)],
                knots=[0, 0, 0, 0, 0.2029740522, 0.4473584147, 1, 1, 1, 1], degree=3))
            add(Edge.make_bspline(
                [(9.754945524, -11.51618734), (9.6291273206, -11.1896365652), (9.1594057032, -10.5075123168), (8.7058203783, -10.1002871966), (8.2335119913, -9.8684424984), (7.8496336414, -9.8987880974), (7.6421494596, -9.9167460576)],
                knots=[0, 0, 0, 0, 0.324179577, 0.5607097538, 0.7696452834, 1, 1, 1, 1], degree=3))
        make_face()
    extrude(amount=F1_DEPTH)


solid = f1.part
